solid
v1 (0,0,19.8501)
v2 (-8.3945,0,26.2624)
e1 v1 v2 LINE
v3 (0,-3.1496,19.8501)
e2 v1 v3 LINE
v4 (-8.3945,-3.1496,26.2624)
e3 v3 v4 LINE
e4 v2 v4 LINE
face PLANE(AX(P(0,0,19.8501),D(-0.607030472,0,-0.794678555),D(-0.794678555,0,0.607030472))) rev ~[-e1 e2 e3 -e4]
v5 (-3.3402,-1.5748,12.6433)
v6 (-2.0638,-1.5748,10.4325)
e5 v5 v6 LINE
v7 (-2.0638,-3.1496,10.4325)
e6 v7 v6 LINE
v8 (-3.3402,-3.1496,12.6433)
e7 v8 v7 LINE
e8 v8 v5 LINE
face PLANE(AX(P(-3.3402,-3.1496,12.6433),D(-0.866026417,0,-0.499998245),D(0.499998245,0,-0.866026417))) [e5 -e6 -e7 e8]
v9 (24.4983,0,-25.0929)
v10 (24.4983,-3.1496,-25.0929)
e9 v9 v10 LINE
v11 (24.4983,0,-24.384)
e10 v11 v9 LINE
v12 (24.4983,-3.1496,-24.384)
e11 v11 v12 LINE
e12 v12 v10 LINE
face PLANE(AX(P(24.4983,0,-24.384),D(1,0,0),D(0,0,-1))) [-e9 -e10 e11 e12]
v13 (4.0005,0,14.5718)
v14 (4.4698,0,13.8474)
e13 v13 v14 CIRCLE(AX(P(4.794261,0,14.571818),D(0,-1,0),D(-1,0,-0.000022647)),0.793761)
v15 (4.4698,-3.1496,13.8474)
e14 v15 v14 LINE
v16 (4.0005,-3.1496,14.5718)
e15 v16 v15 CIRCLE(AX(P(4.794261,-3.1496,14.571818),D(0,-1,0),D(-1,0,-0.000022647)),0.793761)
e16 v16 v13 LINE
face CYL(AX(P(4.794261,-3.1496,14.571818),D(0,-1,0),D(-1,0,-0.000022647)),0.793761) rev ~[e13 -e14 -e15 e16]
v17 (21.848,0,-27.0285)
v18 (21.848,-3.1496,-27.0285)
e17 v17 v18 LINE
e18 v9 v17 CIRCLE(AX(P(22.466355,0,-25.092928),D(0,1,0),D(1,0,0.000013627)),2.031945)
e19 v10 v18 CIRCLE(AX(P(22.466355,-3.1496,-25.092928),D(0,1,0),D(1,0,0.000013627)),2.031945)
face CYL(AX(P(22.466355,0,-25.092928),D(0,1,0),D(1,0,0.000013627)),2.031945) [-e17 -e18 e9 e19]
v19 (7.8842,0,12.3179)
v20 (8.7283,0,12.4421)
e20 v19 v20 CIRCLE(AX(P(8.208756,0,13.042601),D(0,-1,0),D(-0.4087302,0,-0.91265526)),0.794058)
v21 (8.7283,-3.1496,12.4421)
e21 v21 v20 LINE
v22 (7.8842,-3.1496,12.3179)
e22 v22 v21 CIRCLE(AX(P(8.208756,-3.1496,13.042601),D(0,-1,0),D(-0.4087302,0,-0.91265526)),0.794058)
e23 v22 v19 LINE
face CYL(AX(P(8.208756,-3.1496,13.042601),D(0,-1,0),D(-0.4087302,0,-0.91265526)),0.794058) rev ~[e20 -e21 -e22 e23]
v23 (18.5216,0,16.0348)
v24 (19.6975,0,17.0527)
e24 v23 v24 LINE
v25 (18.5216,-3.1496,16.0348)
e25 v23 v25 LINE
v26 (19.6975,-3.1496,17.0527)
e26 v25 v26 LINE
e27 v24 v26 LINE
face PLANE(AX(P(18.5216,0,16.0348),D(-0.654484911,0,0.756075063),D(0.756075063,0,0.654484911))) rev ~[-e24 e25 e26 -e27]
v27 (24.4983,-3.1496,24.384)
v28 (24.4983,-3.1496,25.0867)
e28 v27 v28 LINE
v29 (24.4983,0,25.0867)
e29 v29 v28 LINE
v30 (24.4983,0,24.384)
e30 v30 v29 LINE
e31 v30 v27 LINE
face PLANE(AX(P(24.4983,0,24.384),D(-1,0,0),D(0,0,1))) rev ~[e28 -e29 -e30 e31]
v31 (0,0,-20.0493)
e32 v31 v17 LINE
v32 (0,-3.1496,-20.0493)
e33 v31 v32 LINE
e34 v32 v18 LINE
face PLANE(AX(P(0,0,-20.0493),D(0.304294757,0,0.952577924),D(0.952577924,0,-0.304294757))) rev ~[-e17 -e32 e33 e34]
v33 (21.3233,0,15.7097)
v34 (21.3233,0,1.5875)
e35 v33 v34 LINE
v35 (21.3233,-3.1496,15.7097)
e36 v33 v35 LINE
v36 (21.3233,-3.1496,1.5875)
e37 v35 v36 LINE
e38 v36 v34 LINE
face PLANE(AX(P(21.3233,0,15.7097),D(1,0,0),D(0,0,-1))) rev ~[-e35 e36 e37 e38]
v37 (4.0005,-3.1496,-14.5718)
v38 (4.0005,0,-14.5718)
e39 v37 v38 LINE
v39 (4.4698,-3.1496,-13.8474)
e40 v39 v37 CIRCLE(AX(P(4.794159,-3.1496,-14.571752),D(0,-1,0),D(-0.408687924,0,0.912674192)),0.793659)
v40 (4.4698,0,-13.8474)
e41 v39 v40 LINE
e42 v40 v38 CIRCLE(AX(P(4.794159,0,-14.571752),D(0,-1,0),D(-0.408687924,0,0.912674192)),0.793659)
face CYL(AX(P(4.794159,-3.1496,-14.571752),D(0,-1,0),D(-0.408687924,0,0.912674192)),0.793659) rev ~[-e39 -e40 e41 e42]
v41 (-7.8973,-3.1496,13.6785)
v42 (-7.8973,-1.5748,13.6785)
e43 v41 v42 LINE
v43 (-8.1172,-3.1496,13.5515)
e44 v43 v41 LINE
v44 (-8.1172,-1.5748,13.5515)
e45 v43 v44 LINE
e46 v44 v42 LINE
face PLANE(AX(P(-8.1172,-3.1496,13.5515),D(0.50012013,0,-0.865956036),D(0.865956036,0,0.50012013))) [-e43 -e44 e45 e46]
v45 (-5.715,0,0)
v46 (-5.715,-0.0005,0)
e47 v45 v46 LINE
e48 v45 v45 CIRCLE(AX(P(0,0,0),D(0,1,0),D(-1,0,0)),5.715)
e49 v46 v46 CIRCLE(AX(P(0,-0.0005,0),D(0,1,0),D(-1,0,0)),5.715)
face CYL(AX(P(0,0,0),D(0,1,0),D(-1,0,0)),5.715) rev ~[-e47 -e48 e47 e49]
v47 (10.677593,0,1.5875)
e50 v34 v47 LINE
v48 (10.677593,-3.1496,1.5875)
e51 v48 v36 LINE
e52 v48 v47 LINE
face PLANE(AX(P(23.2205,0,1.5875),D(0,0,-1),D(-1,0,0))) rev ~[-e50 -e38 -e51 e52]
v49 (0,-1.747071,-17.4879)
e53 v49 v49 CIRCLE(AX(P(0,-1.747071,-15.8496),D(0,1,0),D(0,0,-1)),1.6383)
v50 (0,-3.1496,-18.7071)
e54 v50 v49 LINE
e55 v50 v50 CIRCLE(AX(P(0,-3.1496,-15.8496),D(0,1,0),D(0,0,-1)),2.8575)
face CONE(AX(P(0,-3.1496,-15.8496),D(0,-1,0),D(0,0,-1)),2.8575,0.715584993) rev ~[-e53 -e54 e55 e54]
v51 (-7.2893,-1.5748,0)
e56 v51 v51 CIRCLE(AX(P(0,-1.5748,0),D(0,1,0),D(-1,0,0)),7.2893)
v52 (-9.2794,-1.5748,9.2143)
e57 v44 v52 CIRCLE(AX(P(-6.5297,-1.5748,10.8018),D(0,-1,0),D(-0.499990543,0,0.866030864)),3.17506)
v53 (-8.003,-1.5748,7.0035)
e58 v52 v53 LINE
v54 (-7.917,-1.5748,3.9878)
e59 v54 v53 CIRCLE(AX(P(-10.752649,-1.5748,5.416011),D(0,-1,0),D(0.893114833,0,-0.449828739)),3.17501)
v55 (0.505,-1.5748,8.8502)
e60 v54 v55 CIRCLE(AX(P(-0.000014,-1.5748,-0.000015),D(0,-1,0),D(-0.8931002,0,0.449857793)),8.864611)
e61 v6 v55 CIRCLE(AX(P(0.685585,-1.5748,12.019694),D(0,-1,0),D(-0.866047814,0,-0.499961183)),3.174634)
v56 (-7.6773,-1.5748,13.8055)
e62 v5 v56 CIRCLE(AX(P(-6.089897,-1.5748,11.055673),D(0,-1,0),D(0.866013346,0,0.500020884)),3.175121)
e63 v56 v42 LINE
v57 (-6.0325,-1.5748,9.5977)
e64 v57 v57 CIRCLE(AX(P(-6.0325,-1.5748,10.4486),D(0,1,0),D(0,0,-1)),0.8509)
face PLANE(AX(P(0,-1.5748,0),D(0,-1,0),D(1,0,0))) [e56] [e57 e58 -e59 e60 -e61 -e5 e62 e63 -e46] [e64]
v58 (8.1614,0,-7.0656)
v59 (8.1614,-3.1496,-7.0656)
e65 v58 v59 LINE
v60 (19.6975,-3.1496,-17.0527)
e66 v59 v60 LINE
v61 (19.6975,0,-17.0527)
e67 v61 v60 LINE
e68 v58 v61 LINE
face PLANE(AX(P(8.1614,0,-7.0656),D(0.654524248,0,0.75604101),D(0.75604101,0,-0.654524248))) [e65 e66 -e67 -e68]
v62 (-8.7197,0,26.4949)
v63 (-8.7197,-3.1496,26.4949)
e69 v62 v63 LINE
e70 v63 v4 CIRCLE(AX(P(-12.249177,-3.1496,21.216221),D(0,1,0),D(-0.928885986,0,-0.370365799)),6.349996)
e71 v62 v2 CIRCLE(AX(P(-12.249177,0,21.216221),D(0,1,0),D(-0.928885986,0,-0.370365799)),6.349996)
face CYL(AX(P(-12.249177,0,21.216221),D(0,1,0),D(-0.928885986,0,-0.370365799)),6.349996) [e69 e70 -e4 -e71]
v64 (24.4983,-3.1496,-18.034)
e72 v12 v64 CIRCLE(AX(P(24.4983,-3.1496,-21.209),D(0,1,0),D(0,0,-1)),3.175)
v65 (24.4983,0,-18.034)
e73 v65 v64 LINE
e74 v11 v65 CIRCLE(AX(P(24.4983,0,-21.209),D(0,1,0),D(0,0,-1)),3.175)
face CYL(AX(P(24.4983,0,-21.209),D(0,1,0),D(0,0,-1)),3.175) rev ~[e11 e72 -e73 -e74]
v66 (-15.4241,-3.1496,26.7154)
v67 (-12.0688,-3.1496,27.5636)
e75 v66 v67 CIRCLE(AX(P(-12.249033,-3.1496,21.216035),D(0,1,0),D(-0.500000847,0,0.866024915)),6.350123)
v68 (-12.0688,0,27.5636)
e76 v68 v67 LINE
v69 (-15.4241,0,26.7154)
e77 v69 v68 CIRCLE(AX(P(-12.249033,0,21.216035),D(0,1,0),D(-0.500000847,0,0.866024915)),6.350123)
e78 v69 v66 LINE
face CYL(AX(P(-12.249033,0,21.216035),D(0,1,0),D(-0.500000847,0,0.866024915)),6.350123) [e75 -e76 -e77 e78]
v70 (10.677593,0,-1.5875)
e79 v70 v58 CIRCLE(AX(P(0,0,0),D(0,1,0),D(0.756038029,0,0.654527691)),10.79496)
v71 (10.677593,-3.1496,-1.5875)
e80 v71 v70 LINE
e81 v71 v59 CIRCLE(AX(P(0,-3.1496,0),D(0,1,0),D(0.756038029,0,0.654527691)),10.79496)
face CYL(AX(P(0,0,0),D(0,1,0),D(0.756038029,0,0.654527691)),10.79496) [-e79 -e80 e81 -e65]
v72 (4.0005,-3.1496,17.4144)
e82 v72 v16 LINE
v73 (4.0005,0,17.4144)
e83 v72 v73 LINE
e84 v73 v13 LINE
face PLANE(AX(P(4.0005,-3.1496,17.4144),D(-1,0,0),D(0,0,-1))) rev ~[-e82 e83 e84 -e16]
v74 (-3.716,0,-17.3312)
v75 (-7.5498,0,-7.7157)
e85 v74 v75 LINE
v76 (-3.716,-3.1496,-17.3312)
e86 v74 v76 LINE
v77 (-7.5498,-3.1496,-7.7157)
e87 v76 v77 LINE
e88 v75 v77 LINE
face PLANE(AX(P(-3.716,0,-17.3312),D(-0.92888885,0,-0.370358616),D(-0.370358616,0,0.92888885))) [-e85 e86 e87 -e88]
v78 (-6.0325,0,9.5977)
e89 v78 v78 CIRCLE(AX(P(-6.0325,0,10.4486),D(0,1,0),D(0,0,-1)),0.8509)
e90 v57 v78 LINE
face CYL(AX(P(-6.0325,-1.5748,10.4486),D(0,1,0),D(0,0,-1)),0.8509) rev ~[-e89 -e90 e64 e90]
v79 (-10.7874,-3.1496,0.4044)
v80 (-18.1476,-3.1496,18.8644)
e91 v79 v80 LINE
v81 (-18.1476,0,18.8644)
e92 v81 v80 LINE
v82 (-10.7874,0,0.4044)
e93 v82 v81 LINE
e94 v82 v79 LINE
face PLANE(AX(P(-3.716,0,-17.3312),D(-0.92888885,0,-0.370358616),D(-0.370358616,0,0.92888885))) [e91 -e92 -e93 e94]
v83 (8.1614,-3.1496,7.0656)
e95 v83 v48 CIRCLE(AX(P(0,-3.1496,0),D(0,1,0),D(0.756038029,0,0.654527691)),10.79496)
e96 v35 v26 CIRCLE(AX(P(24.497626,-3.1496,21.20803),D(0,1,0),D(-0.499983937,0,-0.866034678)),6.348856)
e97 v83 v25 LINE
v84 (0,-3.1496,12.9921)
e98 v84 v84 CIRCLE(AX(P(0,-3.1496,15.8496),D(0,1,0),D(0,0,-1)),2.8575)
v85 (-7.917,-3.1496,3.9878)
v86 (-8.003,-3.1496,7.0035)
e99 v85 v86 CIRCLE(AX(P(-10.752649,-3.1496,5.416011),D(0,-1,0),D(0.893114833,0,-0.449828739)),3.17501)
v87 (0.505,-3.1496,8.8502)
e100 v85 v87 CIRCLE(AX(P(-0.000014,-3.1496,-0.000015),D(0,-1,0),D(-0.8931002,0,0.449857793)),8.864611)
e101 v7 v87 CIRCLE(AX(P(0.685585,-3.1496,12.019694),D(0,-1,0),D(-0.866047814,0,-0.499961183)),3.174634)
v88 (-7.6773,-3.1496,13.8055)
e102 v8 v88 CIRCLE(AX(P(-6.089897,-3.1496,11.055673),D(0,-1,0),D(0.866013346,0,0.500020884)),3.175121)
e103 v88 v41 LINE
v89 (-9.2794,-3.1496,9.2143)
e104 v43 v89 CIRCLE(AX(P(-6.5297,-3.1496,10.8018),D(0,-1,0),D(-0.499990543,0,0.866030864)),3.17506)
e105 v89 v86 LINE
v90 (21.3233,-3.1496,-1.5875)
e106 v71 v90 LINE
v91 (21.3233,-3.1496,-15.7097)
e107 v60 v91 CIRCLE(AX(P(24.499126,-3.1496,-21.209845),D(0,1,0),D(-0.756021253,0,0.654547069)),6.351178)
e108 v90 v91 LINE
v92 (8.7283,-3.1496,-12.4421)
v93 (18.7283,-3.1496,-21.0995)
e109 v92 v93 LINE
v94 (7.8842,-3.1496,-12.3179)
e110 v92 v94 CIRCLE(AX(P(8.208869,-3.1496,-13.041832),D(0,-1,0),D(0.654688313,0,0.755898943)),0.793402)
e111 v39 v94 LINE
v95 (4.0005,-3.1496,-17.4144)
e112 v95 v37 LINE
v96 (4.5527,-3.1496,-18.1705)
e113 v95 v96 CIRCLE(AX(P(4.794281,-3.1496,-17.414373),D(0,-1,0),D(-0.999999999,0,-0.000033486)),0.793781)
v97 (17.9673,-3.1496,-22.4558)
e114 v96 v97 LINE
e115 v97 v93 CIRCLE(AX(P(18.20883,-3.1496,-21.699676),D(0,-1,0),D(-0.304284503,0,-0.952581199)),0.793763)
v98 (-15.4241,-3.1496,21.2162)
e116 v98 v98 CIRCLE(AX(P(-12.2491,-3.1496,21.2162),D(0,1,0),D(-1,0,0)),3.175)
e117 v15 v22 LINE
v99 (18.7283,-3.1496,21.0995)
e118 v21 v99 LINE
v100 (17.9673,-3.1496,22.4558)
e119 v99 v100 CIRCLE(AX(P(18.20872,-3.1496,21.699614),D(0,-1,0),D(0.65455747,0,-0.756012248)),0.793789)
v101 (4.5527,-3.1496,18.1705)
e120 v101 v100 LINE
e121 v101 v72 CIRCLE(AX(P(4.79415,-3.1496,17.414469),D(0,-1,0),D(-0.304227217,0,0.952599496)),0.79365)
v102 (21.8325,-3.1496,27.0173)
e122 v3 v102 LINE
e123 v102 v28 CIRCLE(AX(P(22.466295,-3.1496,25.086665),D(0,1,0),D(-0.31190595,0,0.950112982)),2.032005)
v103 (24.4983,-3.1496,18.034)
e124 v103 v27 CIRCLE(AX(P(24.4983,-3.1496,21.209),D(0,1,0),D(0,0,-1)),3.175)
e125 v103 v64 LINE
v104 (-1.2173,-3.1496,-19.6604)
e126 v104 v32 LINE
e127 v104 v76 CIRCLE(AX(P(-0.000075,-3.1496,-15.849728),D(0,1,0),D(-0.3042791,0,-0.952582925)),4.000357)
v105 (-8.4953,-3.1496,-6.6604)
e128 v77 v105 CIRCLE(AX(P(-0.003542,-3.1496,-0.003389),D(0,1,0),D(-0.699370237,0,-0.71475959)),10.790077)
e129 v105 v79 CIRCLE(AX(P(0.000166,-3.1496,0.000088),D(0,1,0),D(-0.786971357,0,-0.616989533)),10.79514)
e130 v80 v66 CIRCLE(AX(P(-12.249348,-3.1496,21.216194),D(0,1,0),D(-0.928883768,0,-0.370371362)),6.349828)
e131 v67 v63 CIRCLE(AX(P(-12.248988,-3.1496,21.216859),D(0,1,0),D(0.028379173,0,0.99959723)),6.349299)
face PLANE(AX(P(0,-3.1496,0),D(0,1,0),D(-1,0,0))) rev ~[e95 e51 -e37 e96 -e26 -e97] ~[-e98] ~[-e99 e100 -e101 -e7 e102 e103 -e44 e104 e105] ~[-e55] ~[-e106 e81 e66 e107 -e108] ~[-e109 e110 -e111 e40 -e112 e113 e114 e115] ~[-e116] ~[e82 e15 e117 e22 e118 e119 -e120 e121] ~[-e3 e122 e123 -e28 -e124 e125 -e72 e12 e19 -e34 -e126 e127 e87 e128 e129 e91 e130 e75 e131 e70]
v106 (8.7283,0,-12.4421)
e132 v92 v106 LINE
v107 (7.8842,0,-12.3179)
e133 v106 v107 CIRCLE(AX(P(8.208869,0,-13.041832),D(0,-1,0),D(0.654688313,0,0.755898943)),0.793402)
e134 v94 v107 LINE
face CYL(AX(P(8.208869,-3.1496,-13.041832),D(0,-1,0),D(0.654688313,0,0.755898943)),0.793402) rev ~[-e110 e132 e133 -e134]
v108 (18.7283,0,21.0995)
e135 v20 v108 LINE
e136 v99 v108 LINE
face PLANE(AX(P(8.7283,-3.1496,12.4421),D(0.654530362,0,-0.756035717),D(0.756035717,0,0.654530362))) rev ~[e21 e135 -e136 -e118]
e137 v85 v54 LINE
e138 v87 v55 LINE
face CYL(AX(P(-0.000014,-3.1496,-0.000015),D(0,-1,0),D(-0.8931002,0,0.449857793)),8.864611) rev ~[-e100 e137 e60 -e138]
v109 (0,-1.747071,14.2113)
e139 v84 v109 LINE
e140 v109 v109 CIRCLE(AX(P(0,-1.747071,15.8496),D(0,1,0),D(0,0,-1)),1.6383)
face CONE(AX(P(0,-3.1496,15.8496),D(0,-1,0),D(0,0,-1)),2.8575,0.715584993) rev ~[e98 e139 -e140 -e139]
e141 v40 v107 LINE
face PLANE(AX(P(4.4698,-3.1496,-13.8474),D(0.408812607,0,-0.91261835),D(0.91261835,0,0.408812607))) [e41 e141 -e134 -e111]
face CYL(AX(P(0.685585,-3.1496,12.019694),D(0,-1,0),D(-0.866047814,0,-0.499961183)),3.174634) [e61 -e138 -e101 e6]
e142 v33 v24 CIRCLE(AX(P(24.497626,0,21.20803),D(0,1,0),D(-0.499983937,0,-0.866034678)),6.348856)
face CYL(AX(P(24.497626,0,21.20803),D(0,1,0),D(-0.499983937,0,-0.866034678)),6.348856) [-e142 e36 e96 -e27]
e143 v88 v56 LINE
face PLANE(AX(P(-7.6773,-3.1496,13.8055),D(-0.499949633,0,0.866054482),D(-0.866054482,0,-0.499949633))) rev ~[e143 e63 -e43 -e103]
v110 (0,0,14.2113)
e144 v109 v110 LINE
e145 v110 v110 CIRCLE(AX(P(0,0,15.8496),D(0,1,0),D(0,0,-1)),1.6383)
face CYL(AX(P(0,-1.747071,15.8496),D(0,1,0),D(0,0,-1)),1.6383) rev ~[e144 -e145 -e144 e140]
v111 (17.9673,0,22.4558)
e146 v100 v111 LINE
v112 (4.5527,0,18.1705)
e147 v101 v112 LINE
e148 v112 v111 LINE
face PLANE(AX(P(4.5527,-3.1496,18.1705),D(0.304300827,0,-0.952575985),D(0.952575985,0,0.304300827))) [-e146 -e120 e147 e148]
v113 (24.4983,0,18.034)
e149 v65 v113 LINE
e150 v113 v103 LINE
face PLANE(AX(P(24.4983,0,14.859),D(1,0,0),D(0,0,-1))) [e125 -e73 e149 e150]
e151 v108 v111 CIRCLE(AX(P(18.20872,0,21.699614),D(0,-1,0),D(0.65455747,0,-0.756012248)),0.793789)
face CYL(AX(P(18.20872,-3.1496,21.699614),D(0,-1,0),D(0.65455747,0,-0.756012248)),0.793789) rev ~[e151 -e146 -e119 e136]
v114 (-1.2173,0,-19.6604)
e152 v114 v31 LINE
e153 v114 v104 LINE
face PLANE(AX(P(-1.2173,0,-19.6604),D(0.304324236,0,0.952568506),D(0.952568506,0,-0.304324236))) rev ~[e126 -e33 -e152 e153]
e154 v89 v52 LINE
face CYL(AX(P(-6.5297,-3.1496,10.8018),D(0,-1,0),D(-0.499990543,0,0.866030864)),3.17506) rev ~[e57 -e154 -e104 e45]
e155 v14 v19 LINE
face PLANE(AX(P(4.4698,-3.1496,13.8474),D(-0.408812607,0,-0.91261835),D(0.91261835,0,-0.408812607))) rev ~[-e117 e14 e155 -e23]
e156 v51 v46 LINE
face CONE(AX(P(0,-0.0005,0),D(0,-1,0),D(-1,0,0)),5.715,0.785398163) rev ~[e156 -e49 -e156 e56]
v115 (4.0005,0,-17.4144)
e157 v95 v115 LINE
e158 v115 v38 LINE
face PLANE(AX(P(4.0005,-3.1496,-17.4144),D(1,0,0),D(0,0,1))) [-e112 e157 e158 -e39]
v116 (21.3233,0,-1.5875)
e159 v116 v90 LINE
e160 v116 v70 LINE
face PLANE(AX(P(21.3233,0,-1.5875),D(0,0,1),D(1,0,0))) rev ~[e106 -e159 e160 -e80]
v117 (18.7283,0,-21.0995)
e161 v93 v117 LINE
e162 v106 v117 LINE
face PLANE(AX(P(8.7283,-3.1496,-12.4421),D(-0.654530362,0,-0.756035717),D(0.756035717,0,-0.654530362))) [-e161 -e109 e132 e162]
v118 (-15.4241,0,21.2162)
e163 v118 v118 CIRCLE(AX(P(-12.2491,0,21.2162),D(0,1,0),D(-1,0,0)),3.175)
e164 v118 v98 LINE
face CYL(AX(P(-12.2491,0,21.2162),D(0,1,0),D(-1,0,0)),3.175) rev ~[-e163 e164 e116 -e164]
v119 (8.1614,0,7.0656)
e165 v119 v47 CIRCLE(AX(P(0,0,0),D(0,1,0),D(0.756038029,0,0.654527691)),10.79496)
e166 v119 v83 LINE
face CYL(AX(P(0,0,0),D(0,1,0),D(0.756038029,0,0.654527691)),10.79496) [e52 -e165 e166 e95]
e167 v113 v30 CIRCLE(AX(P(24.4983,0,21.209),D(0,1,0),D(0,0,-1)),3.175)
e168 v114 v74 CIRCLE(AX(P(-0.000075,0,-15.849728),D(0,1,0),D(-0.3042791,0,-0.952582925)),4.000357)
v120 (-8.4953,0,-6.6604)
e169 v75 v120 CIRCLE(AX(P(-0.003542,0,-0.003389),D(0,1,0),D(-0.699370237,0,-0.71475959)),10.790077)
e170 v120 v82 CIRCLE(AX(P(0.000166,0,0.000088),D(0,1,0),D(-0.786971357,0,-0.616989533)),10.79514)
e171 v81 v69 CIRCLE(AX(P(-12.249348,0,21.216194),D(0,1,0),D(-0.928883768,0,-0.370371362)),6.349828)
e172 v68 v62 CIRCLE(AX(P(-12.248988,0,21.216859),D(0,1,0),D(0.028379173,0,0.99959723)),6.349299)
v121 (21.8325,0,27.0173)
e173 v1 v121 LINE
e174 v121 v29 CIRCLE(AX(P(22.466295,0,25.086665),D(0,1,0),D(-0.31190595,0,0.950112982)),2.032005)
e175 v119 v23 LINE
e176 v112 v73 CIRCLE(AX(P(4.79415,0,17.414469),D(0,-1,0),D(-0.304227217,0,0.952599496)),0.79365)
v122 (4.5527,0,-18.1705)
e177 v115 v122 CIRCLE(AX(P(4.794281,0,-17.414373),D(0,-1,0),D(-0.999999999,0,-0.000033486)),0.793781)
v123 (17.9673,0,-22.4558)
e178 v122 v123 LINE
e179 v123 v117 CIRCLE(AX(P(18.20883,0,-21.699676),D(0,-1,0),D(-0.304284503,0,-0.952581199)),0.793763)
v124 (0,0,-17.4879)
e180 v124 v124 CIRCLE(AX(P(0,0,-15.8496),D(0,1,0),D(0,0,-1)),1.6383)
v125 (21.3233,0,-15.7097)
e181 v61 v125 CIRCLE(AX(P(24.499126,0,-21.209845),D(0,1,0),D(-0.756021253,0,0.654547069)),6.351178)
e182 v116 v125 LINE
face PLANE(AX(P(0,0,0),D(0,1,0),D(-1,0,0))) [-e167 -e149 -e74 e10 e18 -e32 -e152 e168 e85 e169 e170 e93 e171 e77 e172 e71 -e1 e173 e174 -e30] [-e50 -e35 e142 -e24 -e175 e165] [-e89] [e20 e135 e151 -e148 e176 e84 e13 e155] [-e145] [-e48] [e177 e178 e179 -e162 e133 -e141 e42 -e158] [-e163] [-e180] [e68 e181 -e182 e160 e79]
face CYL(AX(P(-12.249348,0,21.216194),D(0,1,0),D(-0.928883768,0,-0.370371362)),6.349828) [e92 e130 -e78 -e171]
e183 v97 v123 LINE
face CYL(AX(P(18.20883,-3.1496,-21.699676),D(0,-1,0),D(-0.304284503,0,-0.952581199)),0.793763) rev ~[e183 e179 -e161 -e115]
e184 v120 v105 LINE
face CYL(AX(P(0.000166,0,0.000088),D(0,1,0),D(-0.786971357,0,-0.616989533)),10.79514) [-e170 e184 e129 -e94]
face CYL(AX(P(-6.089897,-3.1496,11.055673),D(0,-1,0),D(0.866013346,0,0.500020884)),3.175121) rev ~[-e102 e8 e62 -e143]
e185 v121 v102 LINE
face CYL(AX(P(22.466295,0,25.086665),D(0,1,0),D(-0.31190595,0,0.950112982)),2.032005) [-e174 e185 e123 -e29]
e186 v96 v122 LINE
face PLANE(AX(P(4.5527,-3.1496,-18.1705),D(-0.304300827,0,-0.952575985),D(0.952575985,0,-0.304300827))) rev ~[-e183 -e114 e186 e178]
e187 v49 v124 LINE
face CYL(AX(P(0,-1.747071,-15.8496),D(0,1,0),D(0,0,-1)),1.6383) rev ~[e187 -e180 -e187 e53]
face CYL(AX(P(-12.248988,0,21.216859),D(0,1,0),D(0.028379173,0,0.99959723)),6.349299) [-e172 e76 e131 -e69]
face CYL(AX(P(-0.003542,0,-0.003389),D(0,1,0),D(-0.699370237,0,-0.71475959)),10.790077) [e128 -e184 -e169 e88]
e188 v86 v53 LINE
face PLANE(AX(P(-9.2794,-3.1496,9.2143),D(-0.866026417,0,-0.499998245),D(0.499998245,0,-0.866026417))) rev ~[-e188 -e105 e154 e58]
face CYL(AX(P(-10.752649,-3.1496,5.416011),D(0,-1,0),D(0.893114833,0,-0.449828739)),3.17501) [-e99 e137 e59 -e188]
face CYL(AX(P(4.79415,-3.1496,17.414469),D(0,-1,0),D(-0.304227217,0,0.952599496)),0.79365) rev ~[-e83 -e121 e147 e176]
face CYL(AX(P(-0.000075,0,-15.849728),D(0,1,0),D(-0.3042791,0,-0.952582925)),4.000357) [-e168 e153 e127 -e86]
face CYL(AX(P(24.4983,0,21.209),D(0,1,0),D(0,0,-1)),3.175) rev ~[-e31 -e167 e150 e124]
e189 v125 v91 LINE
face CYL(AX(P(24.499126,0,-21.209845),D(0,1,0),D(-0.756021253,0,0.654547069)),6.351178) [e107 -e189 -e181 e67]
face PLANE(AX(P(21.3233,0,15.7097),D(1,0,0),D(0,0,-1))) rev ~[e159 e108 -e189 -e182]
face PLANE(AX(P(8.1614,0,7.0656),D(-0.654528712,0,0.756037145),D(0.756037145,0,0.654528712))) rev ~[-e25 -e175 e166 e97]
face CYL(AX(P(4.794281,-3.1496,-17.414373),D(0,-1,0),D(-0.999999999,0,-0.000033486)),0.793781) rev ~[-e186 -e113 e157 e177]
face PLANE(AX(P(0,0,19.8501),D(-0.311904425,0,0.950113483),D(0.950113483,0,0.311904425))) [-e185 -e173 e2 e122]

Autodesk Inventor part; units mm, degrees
sketch "Sketch1" plane through (0, 0, 0) normal (0, 1, 0) x (-1, 0, 0)
  circle A0 centre (0, 0) radius 5.715
  circle A1 centre (0, 0) radius 24.4983 construction
  line L0 (38.3553, 0) -> (-43.5095, 0) construction
  line L1 (0, -41.4931) -> (0, 53.8329) construction
  line L2 (-24.4983, 0) -> (-24.4983, -14.859)
  arc A2 (-24.4983, -24.384) -> (-24.4983, -18.034) centre (-24.4983, -21.209) ccw
  arc A3 (-24.4983, 24.384) -> (-24.4983, 18.034) centre (-24.4983, 21.209) ccw construction
  line L3 (-24.4983, 21.209) -> (-24.4983, 18.034) construction
  arc A4 (-24.4983, 14.859) -> (-21.3233, 15.7097) centre (-24.4983, 21.209) ccw construction
  arc A5 (-21.9753, -27.0363) -> (-20.631, -26.2455) centre (-24.4983, -21.209) ccw construction
  line L4 (-24.4983, 14.859) -> (-24.4983, 0)
  line L5 (-24.4983, -14.859) -> (-24.4983, -18.034)
  arc A6 (-22.4188, -15.2092) -> (-24.4983, -27.559) centre (-24.4983, -21.209) ccw construction
  arc A7 (-24.4983, -18.034) -> (-24.4983, -24.384) centre (-24.4983, -21.209) ccw construction
  line L6 (-24.4983, 21.209) -> (-24.4983, 24.384) construction
  arc A8 (-24.4983, 18.034) -> (-24.4983, 24.384) centre (-24.4983, 21.209) ccw
  line L7 (-24.4983, 24.384) -> (-24.4983, 25.0867)
  line L8 (-24.4983, -24.384) -> (-24.4983, -25.0929)
  line L9 (-24.4983, 18.034) -> (-24.4983, 14.859)
  line L10 (-24.4983, -18.034) -> (-24.4983, -24.384) construction
  line L11 (0, 0) -> (-8.1614, 7.0656) construction
  line L12 (0, 0) -> (-8.1614, -7.0656) construction
  line L13 (0, 0) -> (24.493, 0) construction
  arc A9 (9.9646, -4.1519) -> (9.9646, 4.1519) centre (0, 0) ccw construction
  line L14 (-5.7223, -9.1535) -> (-5.719, -9.1507) construction
  line L15 (-9.8786, -4.3527) -> (-22.4188, -15.2092) construction
  line L16 (-21.3233, 15.7097) -> (-21.3233, -15.7097)
  arc A10 (7.4735, -7.7897) -> (9.7402, -4.654) centre (0, 0) ccw construction
  line L17 (-5.719, -9.1507) -> (-18.2625, -20.01) construction
  arc A11 (-18.1902, -21.9377) -> (-18.2625, -20.01) centre (-24.4983, -21.209) ccw construction
  arc A12 (-18.2625, -20.01) -> (-19.6975, -17.0527) centre (-24.4983, -21.209) ccw construction
  line L18 (-8.1614, -7.0656) -> (-19.6975, -17.0527)
  arc A13 (-19.6975, -17.0527) -> (-21.3233, -15.7097) centre (-24.4983, -21.209) ccw
  arc A14 (-8.1614, 7.0656) -> (-8.1614, -7.0656) centre (0, 0) ccw
  line L19 (-19.6975, 17.0527) -> (-24.4983, 21.209) construction
  arc A15 (-21.3233, 15.7097) -> (-19.6975, 17.0527) centre (-24.4983, 21.209) ccw
  arc A16 (-21.3233, -15.7097) -> (-22.4188, -15.2092) centre (-24.4983, -21.209) ccw construction
  line L20 (-8.1614, 7.0656) -> (-18.5216, 16.0348)
  arc A17 (-8.1614, -7.0656) -> (6.5744, -8.562) centre (0, 0) ccw construction
  line L21 (-8.1614, -7.0656) -> (-19.6975, -17.0527) construction
  arc A18 (-21.3233, -15.7097) -> (-24.4983, -14.859) centre (-24.4983, -21.209) ccw construction
  line L22 (-19.6975, -17.0527) -> (-24.4983, -21.209) construction
  arc A19 (-19.6975, -17.0527) -> (-21.3233, -15.7097) centre (-24.4983, -21.209) ccw construction
  line L23 (-18.5216, 16.0348) -> (-19.6975, 17.0527)
  arc A20 (-19.6975, 17.0527) -> (-18.7927, 23.9963) centre (-24.4983, 21.209) ccw construction
  arc A21 (9.9646, 4.1519) -> (8.0122, 7.2344) centre (0, 0) ccw construction
  arc A22 (7.4735, 7.7897) -> (5.3975, 9.3487) centre (0, 0) ccw construction
  line L24 (0, 0) -> (5.3975, 9.3487) construction
  circle A23 centre (12.2491, 21.2162) radius 3.175
  arc A24 (15.4241, 26.7154) -> (12.0688, 27.5636) centre (12.2491, 21.2162) ccw
  arc A25 (17.9787, 18.4785) -> (18.1476, 18.8644) centre (12.2491, 21.2162) ccw construction
  arc A26 (12.0688, 27.5636) -> (8.7197, 26.4949) centre (12.2491, 21.2162) ccw
  arc A27 (-24.4983, -27.559) -> (-22.566, -27.2579) centre (-24.4983, -21.209) ccw construction
  arc A28 (-20.631, -26.2455) -> (-18.1902, -21.9377) centre (-24.4983, -21.209) ccw construction
  arc A29 (-20.631, -26.2455) -> (-19.6975, -17.0527) centre (-24.4983, -21.209) ccw construction
  arc A30 (6.5744, -8.562) -> (7.4735, -7.7897) centre (0, 0) ccw construction
  arc A31 (9.7402, -4.654) -> (9.9646, -4.1519) centre (0, 0) ccw construction
  arc A32 (6.7499, 18.0412) -> (7.1395, 17.446) centre (12.2491, 21.2162) ccw construction
  arc A33 (6.7484, 24.3886) -> (6.7499, 18.0412) centre (12.2491, 21.2162) ccw construction
  arc A34 (-0.7648, 10.7679) -> (-8.1614, 7.0656) centre (0, 0) ccw construction
  arc A35 (-18.7927, 23.9963) -> (-18.999, 24.384) centre (-24.4983, 21.209) ccw construction
  arc A36 (-18.999, 24.384) -> (-21.9753, 27.0363) centre (-24.4983, 21.209) ccw construction
  arc A37 (-21.9753, 27.0363) -> (-22.5177, 27.2422) centre (-24.4983, 21.209) ccw construction
  arc A38 (-24.4987, 27.559) -> (-24.4983, 14.859) centre (-24.4983, 21.209) ccw construction
  arc A39 (0, -11.8491) -> (3.716, -17.3312) centre (0, -15.8496) ccw construction
  circle A40 centre (0, 15.8496) radius 4.0005 construction
  line L25 (3.0165, -19.0856) -> (3.716, -17.3312) construction
  arc A41 (18.1476, 18.8644) -> (15.4241, 26.7154) centre (12.2491, 21.2162) ccw
  line L26 (3.0165, -19.0856) -> (1.2173, -19.6604) construction
  arc A42 (9.0741, 15.7169) -> (11.5389, 14.906) centre (12.2491, 21.2162) ccw construction
  arc A43 (5.3975, 9.3487) -> (2.2591, 10.556) centre (0, 0) ccw construction
  line L27 (9.0741, 15.7169) -> (22.677, 39.2777) construction
  line L28 (5.3975, 9.3487) -> (9.0741, 15.7169) construction
  arc A44 (11.5389, 14.906) -> (17.9787, 18.4785) centre (12.2491, 21.2162) ccw construction
  arc A45 (7.1395, 17.446) -> (9.0741, 15.7169) centre (12.2491, 21.2162) ccw construction
  arc A46 (2.2591, 10.556) -> (1.3866, 10.7056) centre (0, 0) ccw construction
  arc A47 (8.0122, 7.2344) -> (7.4735, 7.7897) centre (0, 0) ccw construction
  arc A48 (8.7197, 26.4949) -> (18.1476, 18.8644) centre (12.2491, 21.2162) ccw construction
  arc A49 (-22.5656, 27.2577) -> (-24.4983, 27.559) centre (-24.4983, 21.209) ccw construction
  arc A50 (-22.566, -27.2579) -> (-20.631, -26.2455) centre (-24.4983, -21.209) ccw construction
  arc A51 (3.716, -17.3312) -> (0, -11.8491) centre (0, -15.8496) ccw construction
  line L29 (0, -20.0493) -> (-21.848, -27.0285)
  arc A52 (1.2173, -19.6604) -> (3.716, -17.3312) centre (0, -15.8496) ccw
  line L30 (0, 19.8501) -> (-21.8325, 27.0173)
  arc A53 (-22.5177, 27.2422) -> (-22.5656, 27.2577) centre (-24.4983, 21.209) ccw construction
  line L31 (0, 19.8501) -> (8.3945, 26.2624)
  arc A54 (8.3945, 26.2624) -> (6.7484, 24.3886) centre (12.2491, 21.2162) ccw construction
  arc A55 (-21.8325, 27.0173) -> (-24.4983, 25.0867) centre (-22.4663, 25.0867) ccw
  arc A56 (-24.4983, -25.0929) -> (-21.848, -27.0285) centre (-22.4663, -25.0929) ccw
  line L32 (-21.8325, 27.0173) -> (-24.4983, 27.8924) construction
  line L33 (-24.4983, 24.384) -> (-24.4983, 27.8924) construction
  line L34 (-21.848, -27.0285) -> (-24.4983, -27.8751) construction
  line L35 (-24.4983, -25.0929) -> (-24.4983, -27.8751) construction
  line L36 (8.3945, 26.2624) -> (26.6603, 40.2149) construction
  line L37 (18.1476, 18.8644) -> (26.6603, 40.2149) construction
  line L38 (1.2173, -19.6604) -> (0, -20.0493)
  line L39 (3.716, -17.3312) -> (18.1476, 18.8644)
  arc A57 (18.1476, 18.8644) -> (8.3945, 26.2624) centre (12.2491, 21.2162) ccw
  dimension "headplate_aperture_diameter" = 11.43
  dimension "mount_diameter" = 48.9966
  dimension "d3" = 6.35
  dimension "d4" = 42.418
  dimension "d5" = 31.6992
  dimension "d7" = 3.175
  dimension "d8" = 3.175
  dimension "d10" = 5.08
  dimension "d11" = 3.175
  dimension "d12" = 3.175
  dimension "d16" = 3.175
  dimension "d33" = 120
  dimension "d34" = 6.35
  dimension "d36" = 3.175
  dimension "d46" = 8.001
  dimension "d75" = 2.032
ref_plane "Work Plane2" through (0, 1.524, 0) normal (0, 1, 0) x (1, 0, 0)
ref_plane "Work Plane4" through (0, 1.524, 0) normal (0, 1, 0) x (1, 0, 0)
extrude "Extrusion6" add sketch "Sketch1" against normal blind 3.1496
sketch "Sketch6" plane through (0, 0, 0) normal (0, 1, 0) x (1, 0, 0)
  point P0 (0, 0)
  point P1 (0, -15.8496)
  point P2 (0, 15.8496)
hole "Hole4" [suppressed]
chamfer "Chamfer2" [suppressed]
sketch "Sketch7" plane through (0, -3.1496, 0) normal (0, -1, 0) x (1, 0, 0)
  point P0 (0, 0)
  point P1 (0, 15.8496)
  point P2 (0, -15.8496)
hole "Hole5" at (0, -3.1496, -15.8496) at (0, -3.1496, 15.8496) direction (0, 1, 0) diameter 3.2766 depth 8.8646 tip angle 118 countersink diameter 5.715 countersink angle 82 clearance for "Flat Head Machine Screw (82)" size "#4" standard "Ansi Unified Screw Threads"
chamfer "Chamfer3" distance 3.1496 angle 45 1 edges at (5.715, -3.1496, 0)
ref_plane "Work Plane5" through (0, -3.1496, 0) normal (0, -1, 0) x (1, 0, 0)
sketch "Sketch8" plane through (0, -3.1496, 0) normal (0, -1, 0) x (1, 0, 0)
  point P0 (0, 0)
  point P1 (0, 0)
  point P2 (0, 0)
hole "Hole6" [suppressed]
sketch "Sketch9" plane through (0, 0, 0) normal (0, 1, 0) x (1, 0, 0)
  arc A0 (8.1614, -7.0656) -> (8.1614, 7.0656) centre (0, 0) ccw projected
  line L0 (19.6975, 17.0527) -> (8.1614, 7.0656) projected
  line L1 (8.1614, -7.0656) -> (19.6975, -17.0527) projected
  line L2 (10.795, 9.3456) -> (10.795, 0)
  line L3 (10.795, 0) -> (10.795, -9.3456)
  line L4 (8.1614, 7.0656) -> (19.6975, 17.0527) projected
  line L5 (10.795, 9.3456) -> (8.1614, 7.0656)
  line L6 (10.795, -9.3456) -> (8.1614, -7.0656)
  line L7 (19.6975, -17.0527) -> (8.1614, -7.0656) projected
  arc A1 (8.1614, -7.0656) -> (8.1614, 7.0656) centre (0, 0) ccw
extrude "Extrusion7" [suppressed]
sketch "Sketch10" plane through (0, 0, 0) normal (0, 1, 0) x (1, 0, 0)
  line L0 (-3.716, 17.3312) -> (-18.1476, -18.8644) projected
  arc A0 (-9.9646, 4.1519) -> (-9.9646, -4.1519) centre (0, 0) ccw construction
  arc A1 (-7.4735, 7.7897) -> (-9.7402, 4.654) centre (0, 0) ccw construction
  line L1 (-18.1476, -18.8644) -> (-3.716, 17.3312) projected
  arc A2 (-8.4953, 6.6604) -> (-10.7874, -0.4044) centre (0, 0) ccw
  line L2 (-10.7874, -0.4044) -> (-7.5498, 7.7157)
  arc A3 (-7.5498, 7.7157) -> (-8.4953, 6.6604) centre (0, 0) ccw
extrude "Extrusion8" add sketch "Sketch10" against normal blind 3.1496
sketch "Sketch11" plane through (0, -3.1496, 0) normal (0, -1, 0) x (1, 0, 0)
  line L0 (24.4983, -18.034) -> (24.4983, 18.034) projected
  arc A0 (24.4983, 24.384) -> (24.4983, 18.034) centre (24.4983, 21.209) ccw projected
  line L1 (24.4983, 24.384) -> (24.4983, 25.0867) projected
  arc A1 (24.4983, 25.0867) -> (21.8325, 27.0173) centre (22.4663, 25.0867) ccw projected
  line L2 (21.8325, 27.0173) -> (0, 19.8501) projected
  line L3 (0, 19.8501) -> (-8.3945, 26.2624) projected
  arc A2 (-8.3945, 26.2624) -> (-18.1476, 18.8644) centre (-12.2491, 21.2162) ccw projected
  line L4 (-18.1476, 18.8644) -> (-10.7874, 0.4044) projected
  arc A3 (-3.716, -17.3312) -> (-1.2173, -19.6604) centre (0, -15.8496) ccw projected
  line L5 (-1.2173, -19.6604) -> (21.848, -27.0285) projected
  arc A4 (21.848, -27.0285) -> (24.4983, -25.0929) centre (22.4663, -25.0929) ccw projected
  line L6 (24.4983, -25.0929) -> (24.4983, -24.384) projected
  arc A5 (24.4983, -18.034) -> (24.4983, -24.384) centre (24.4983, -21.209) ccw projected
  circle A6 centre (-12.2491, 21.2162) radius 3.175 projected
  arc A7 (21.3233, -15.7097) -> (19.6975, -17.0527) centre (24.4983, -21.209) ccw projected
  line L7 (19.6975, -17.0527) -> (8.1614, -7.0656) projected
  line L8 (8.1614, 7.0656) -> (19.6975, 17.0527) projected
  arc A8 (19.6975, 17.0527) -> (21.3233, 15.7097) centre (24.4983, 21.209) ccw projected
  line L9 (21.3233, 15.7097) -> (21.3233, -15.7097) projected
  circle A9 centre (0, 15.8496) radius 2.8575 projected
  circle A10 centre (0, -15.8496) radius 2.8575 projected
  line L10 (4.5527, -18.1705) -> (17.9673, -22.4558)
  line L11 (-1.2173, -19.6604) -> (21.848, -27.0285) projected
  line L12 (8.7283, -12.4421) -> (18.7283, -21.0995)
  line L13 (19.6975, -17.0527) -> (8.1614, -7.0656) projected
  arc A11 (17.9673, -22.4558) -> (18.7283, -21.0995) centre (18.2088, -21.6996) ccw
  line L14 (4.0005, -17.4144) -> (4.0005, -14.5718)
  arc A12 (-3.716, -17.3312) -> (-1.2173, -19.6604) centre (0, -15.8496) ccw projected
  circle A13 centre (0, -15.8496) radius 4.0005 construction
  arc A14 (-6.5744, -8.562) -> (8.1614, -7.0656) centre (0, 0) ccw construction
  line L15 (0, -15.8496) -> (4.0005, -14.0576) construction
  line L16 (4.0005, -14.0576) -> (12.065, -10.4451) construction
  line L17 (4.4698, -13.8474) -> (7.8842, -12.3179)
  arc A15 (4.0005, -17.4144) -> (4.5527, -18.1705) centre (4.7942, -17.4144) ccw
  arc A16 (4.4698, -13.8474) -> (4.0005, -14.5718) centre (4.7942, -14.5718) ccw
  arc A17 (8.7283, -12.4421) -> (7.8842, -12.3179) centre (8.2087, -13.0422) ccw
  line L18 (-30.1541, 0) -> (34.1819, 0) projected
  line L19 (4.5527, 18.1705) -> (17.9673, 22.4558)
  line L20 (8.7283, 12.4421) -> (18.7283, 21.0995)
  arc A18 (18.7283, 21.0995) -> (17.9673, 22.4558) centre (18.2088, 21.6996) ccw
  line L21 (4.0005, 17.4144) -> (4.0005, 14.5718)
  line L22 (4.4698, 13.8474) -> (7.8842, 12.3179)
  arc A19 (4.5527, 18.1705) -> (4.0005, 17.4144) centre (4.7942, 17.4144) ccw
  arc A20 (4.0005, 14.5718) -> (4.4698, 13.8474) centre (4.7942, 14.5718) ccw
  arc A21 (7.8842, 12.3179) -> (8.7283, 12.4421) centre (8.2087, 13.0422) ccw
  arc A22 (8.1614, -7.0656) -> (8.1614, 7.0656) centre (0, 0) ccw projected
  arc A23 (-10.7874, 0.4044) -> (-7.5498, -7.7157) centre (0, 0) ccw projected
  line L23 (-7.5498, -7.7157) -> (-3.716, -17.3312) projected
  point P0 (8.3458, -12.1111)
  point P1 (4.0005, 14.0576)
  dimension "d98" = 3.175
  dimension "d99" = 3.6938
  dimension "d100" = 0.7937
  dimension "d101" = 0.7937
  dimension "d102" = 0.7937
extrude "Extrusion9" cut sketch "Sketch11" against normal blind 3.1496 contours A15 L14 A16 L17 A17 L12 A11 L10 | L19 A18 L20 A21 L22 A20 L21 A19
sketch "Sketch17" plane through (0, -3.1496, 0) normal (0, -1, 0) x (1, 0, 0)
  circle A0 centre (0, 0) radius 8.75 construction
  circle A1 centre (0, 0) radius 9 construction
  dimension "d123" = 18
  dimension "d124" = 17.5
chamfer "Chamfer4" [suppressed]
sketch "Sketch18" plane through (0, -3.1496, 0) normal (0, -1, 0) x (1, 0, 0)
  circle A0 centre (0, 0) radius 8.8646 construction
  circle A1 centre (-12.2491, 21.2162) radius 3.175 projected
  circle A2 centre (-12.2491, 21.2162) radius 3.175 construction
  line L0 (-12.2491, 21.2162) -> (-4.4323, 7.677) construction
  circle A3 centre (0, 0) radius 5.715 construction
  line L1 (-2.8575, 4.9493) -> (0, 0) construction
  line L2 (-4.4323, 7.677) -> (-2.8575, 4.9493) construction
  arc A4 (-7.917, 3.9878) -> (0.505, 8.8502) centre (0, 0) ccw
  line L3 (-9.2794, 9.2143) -> (-8.003, 7.0035)
  line L4 (-8.1172, 13.5515) -> (-7.8973, 13.6785)
  line L5 (-3.3402, 12.6433) -> (-2.0638, 10.4325)
  line L6 (-7.6773, 13.8055) -> (-7.8973, 13.6785)
  arc A5 (-4.4323, 7.677) -> (-7.0569, 5.3649) centre (0, 0) ccw construction
  arc A6 (-1.1177, 8.7939) -> (-4.4323, 7.677) centre (0, 0) ccw construction
  arc A7 (-8.1172, 13.5515) -> (-9.2794, 9.2143) centre (-6.5297, 10.8018) ccw
  arc A8 (-3.3402, 12.6433) -> (-7.6773, 13.8055) centre (-6.0898, 11.0558) ccw
  arc A9 (-2.0638, 10.4325) -> (0.505, 8.8502) centre (0.6859, 12.02) ccw
  arc A10 (-7.917, 3.9878) -> (-8.003, 7.0035) centre (-10.7526, 5.416) ccw
  point P0 (-10.8669, 11.964)
  point P1 (-4.9277, 15.393)
  dimension "d128" = 7.62
  dimension "d129" = 3.429
  dimension "d142" = 3.175
extrude "Extrusion10" cut sketch "Sketch18" against normal blind 1.5748 contours A10 L3 A7 L4 L6 A8 L5 A9 A4
sketch "Sketch19" plane through (0, -1.5748, 0) normal (0, -1, 0) x (1, 0, 0)
  circle A0 centre (0, 0) radius 7.2898 projected
  line L0 (-8.1172, 13.5515) -> (-7.6773, 13.8055) projected
  arc A1 (-8.1172, 13.5515) -> (-9.2794, 9.2143) centre (-6.5297, 10.8018) ccw projected
  line L1 (-8.003, 7.0035) -> (-9.2794, 9.2143) projected
  arc A2 (-7.917, 3.9878) -> (-8.003, 7.0035) centre (-10.7526, 5.416) ccw projected
  arc A3 (-7.917, 3.9878) -> (0.505, 8.8502) centre (0, 0) ccw projected
  arc A4 (-2.0638, 10.4325) -> (0.505, 8.8502) centre (0.6859, 12.02) ccw projected
  line L2 (-3.3402, 12.6433) -> (-2.0638, 10.4325) projected
  arc A5 (-3.3402, 12.6433) -> (-7.6773, 13.8055) centre (-6.0898, 11.0558) ccw projected
  point P0 (-6.0325, 10.4486)
  dimension "d133" = 12.065
  dimension "d134" = 3.429
hole "Hole9" at (-6.0325, -1.5748, 10.4486) direction (0, 1, 0) diameter 1.7018 depth 6.6294 tip angle 118
sketch "Sketch20" plane through (0, 0, 0) normal (0, 1, 0) x (1, 0, 0)
  line L0 (-38.3553, 0) -> (43.5095, 0) construction
  line L1 (23.2205, -1.5875) -> (10.0043, -1.5875)
  line L2 (10.0043, -1.5875) -> (10.0043, 1.5875)
  line L3 (10.0043, 1.5875) -> (23.2205, 1.5875)
  line L4 (23.2205, 1.5875) -> (23.2205, -1.5875)
  line L5 (23.2205, -1.5875) -> (10.0043, 1.5875) construction
  line L6 (10.0043, -1.5875) -> (23.2205, 1.5875) construction
  arc A0 (8.1614, -7.0656) -> (8.1614, 7.0656) centre (0, 0) ccw projected
  line L7 (21.3233, -15.7097) -> (21.3233, 15.7097) projected
  point P0 (16.6124, 0)
  dimension "d143" = 3.175
  dimension "d144" = 1.8972
  dimension "d145" = 13.2162
extrude "Extrusion11" add sketch "Sketch20" against normal blind 3.1496
equation "\"d4\" = bearing_edge_distance"
equation "\"d7\" = ball_bearing_radius"
equation "\"d8\" = ball_bearing_radius"
equation "\"d36\" = d7"
equation "\"bearing_edge_distance\" = 42.418"
equation "\"headplate_thickness\" = 3.1496"
equation "\"center_thread_major_diameter\" = 18"
equation "\"center_thread_minor_diameter\" = 17.5"
equation "\"ball_bearing_radius\" = 3.175"
properties part number "v2_tri_headplate_parameter_REF"
